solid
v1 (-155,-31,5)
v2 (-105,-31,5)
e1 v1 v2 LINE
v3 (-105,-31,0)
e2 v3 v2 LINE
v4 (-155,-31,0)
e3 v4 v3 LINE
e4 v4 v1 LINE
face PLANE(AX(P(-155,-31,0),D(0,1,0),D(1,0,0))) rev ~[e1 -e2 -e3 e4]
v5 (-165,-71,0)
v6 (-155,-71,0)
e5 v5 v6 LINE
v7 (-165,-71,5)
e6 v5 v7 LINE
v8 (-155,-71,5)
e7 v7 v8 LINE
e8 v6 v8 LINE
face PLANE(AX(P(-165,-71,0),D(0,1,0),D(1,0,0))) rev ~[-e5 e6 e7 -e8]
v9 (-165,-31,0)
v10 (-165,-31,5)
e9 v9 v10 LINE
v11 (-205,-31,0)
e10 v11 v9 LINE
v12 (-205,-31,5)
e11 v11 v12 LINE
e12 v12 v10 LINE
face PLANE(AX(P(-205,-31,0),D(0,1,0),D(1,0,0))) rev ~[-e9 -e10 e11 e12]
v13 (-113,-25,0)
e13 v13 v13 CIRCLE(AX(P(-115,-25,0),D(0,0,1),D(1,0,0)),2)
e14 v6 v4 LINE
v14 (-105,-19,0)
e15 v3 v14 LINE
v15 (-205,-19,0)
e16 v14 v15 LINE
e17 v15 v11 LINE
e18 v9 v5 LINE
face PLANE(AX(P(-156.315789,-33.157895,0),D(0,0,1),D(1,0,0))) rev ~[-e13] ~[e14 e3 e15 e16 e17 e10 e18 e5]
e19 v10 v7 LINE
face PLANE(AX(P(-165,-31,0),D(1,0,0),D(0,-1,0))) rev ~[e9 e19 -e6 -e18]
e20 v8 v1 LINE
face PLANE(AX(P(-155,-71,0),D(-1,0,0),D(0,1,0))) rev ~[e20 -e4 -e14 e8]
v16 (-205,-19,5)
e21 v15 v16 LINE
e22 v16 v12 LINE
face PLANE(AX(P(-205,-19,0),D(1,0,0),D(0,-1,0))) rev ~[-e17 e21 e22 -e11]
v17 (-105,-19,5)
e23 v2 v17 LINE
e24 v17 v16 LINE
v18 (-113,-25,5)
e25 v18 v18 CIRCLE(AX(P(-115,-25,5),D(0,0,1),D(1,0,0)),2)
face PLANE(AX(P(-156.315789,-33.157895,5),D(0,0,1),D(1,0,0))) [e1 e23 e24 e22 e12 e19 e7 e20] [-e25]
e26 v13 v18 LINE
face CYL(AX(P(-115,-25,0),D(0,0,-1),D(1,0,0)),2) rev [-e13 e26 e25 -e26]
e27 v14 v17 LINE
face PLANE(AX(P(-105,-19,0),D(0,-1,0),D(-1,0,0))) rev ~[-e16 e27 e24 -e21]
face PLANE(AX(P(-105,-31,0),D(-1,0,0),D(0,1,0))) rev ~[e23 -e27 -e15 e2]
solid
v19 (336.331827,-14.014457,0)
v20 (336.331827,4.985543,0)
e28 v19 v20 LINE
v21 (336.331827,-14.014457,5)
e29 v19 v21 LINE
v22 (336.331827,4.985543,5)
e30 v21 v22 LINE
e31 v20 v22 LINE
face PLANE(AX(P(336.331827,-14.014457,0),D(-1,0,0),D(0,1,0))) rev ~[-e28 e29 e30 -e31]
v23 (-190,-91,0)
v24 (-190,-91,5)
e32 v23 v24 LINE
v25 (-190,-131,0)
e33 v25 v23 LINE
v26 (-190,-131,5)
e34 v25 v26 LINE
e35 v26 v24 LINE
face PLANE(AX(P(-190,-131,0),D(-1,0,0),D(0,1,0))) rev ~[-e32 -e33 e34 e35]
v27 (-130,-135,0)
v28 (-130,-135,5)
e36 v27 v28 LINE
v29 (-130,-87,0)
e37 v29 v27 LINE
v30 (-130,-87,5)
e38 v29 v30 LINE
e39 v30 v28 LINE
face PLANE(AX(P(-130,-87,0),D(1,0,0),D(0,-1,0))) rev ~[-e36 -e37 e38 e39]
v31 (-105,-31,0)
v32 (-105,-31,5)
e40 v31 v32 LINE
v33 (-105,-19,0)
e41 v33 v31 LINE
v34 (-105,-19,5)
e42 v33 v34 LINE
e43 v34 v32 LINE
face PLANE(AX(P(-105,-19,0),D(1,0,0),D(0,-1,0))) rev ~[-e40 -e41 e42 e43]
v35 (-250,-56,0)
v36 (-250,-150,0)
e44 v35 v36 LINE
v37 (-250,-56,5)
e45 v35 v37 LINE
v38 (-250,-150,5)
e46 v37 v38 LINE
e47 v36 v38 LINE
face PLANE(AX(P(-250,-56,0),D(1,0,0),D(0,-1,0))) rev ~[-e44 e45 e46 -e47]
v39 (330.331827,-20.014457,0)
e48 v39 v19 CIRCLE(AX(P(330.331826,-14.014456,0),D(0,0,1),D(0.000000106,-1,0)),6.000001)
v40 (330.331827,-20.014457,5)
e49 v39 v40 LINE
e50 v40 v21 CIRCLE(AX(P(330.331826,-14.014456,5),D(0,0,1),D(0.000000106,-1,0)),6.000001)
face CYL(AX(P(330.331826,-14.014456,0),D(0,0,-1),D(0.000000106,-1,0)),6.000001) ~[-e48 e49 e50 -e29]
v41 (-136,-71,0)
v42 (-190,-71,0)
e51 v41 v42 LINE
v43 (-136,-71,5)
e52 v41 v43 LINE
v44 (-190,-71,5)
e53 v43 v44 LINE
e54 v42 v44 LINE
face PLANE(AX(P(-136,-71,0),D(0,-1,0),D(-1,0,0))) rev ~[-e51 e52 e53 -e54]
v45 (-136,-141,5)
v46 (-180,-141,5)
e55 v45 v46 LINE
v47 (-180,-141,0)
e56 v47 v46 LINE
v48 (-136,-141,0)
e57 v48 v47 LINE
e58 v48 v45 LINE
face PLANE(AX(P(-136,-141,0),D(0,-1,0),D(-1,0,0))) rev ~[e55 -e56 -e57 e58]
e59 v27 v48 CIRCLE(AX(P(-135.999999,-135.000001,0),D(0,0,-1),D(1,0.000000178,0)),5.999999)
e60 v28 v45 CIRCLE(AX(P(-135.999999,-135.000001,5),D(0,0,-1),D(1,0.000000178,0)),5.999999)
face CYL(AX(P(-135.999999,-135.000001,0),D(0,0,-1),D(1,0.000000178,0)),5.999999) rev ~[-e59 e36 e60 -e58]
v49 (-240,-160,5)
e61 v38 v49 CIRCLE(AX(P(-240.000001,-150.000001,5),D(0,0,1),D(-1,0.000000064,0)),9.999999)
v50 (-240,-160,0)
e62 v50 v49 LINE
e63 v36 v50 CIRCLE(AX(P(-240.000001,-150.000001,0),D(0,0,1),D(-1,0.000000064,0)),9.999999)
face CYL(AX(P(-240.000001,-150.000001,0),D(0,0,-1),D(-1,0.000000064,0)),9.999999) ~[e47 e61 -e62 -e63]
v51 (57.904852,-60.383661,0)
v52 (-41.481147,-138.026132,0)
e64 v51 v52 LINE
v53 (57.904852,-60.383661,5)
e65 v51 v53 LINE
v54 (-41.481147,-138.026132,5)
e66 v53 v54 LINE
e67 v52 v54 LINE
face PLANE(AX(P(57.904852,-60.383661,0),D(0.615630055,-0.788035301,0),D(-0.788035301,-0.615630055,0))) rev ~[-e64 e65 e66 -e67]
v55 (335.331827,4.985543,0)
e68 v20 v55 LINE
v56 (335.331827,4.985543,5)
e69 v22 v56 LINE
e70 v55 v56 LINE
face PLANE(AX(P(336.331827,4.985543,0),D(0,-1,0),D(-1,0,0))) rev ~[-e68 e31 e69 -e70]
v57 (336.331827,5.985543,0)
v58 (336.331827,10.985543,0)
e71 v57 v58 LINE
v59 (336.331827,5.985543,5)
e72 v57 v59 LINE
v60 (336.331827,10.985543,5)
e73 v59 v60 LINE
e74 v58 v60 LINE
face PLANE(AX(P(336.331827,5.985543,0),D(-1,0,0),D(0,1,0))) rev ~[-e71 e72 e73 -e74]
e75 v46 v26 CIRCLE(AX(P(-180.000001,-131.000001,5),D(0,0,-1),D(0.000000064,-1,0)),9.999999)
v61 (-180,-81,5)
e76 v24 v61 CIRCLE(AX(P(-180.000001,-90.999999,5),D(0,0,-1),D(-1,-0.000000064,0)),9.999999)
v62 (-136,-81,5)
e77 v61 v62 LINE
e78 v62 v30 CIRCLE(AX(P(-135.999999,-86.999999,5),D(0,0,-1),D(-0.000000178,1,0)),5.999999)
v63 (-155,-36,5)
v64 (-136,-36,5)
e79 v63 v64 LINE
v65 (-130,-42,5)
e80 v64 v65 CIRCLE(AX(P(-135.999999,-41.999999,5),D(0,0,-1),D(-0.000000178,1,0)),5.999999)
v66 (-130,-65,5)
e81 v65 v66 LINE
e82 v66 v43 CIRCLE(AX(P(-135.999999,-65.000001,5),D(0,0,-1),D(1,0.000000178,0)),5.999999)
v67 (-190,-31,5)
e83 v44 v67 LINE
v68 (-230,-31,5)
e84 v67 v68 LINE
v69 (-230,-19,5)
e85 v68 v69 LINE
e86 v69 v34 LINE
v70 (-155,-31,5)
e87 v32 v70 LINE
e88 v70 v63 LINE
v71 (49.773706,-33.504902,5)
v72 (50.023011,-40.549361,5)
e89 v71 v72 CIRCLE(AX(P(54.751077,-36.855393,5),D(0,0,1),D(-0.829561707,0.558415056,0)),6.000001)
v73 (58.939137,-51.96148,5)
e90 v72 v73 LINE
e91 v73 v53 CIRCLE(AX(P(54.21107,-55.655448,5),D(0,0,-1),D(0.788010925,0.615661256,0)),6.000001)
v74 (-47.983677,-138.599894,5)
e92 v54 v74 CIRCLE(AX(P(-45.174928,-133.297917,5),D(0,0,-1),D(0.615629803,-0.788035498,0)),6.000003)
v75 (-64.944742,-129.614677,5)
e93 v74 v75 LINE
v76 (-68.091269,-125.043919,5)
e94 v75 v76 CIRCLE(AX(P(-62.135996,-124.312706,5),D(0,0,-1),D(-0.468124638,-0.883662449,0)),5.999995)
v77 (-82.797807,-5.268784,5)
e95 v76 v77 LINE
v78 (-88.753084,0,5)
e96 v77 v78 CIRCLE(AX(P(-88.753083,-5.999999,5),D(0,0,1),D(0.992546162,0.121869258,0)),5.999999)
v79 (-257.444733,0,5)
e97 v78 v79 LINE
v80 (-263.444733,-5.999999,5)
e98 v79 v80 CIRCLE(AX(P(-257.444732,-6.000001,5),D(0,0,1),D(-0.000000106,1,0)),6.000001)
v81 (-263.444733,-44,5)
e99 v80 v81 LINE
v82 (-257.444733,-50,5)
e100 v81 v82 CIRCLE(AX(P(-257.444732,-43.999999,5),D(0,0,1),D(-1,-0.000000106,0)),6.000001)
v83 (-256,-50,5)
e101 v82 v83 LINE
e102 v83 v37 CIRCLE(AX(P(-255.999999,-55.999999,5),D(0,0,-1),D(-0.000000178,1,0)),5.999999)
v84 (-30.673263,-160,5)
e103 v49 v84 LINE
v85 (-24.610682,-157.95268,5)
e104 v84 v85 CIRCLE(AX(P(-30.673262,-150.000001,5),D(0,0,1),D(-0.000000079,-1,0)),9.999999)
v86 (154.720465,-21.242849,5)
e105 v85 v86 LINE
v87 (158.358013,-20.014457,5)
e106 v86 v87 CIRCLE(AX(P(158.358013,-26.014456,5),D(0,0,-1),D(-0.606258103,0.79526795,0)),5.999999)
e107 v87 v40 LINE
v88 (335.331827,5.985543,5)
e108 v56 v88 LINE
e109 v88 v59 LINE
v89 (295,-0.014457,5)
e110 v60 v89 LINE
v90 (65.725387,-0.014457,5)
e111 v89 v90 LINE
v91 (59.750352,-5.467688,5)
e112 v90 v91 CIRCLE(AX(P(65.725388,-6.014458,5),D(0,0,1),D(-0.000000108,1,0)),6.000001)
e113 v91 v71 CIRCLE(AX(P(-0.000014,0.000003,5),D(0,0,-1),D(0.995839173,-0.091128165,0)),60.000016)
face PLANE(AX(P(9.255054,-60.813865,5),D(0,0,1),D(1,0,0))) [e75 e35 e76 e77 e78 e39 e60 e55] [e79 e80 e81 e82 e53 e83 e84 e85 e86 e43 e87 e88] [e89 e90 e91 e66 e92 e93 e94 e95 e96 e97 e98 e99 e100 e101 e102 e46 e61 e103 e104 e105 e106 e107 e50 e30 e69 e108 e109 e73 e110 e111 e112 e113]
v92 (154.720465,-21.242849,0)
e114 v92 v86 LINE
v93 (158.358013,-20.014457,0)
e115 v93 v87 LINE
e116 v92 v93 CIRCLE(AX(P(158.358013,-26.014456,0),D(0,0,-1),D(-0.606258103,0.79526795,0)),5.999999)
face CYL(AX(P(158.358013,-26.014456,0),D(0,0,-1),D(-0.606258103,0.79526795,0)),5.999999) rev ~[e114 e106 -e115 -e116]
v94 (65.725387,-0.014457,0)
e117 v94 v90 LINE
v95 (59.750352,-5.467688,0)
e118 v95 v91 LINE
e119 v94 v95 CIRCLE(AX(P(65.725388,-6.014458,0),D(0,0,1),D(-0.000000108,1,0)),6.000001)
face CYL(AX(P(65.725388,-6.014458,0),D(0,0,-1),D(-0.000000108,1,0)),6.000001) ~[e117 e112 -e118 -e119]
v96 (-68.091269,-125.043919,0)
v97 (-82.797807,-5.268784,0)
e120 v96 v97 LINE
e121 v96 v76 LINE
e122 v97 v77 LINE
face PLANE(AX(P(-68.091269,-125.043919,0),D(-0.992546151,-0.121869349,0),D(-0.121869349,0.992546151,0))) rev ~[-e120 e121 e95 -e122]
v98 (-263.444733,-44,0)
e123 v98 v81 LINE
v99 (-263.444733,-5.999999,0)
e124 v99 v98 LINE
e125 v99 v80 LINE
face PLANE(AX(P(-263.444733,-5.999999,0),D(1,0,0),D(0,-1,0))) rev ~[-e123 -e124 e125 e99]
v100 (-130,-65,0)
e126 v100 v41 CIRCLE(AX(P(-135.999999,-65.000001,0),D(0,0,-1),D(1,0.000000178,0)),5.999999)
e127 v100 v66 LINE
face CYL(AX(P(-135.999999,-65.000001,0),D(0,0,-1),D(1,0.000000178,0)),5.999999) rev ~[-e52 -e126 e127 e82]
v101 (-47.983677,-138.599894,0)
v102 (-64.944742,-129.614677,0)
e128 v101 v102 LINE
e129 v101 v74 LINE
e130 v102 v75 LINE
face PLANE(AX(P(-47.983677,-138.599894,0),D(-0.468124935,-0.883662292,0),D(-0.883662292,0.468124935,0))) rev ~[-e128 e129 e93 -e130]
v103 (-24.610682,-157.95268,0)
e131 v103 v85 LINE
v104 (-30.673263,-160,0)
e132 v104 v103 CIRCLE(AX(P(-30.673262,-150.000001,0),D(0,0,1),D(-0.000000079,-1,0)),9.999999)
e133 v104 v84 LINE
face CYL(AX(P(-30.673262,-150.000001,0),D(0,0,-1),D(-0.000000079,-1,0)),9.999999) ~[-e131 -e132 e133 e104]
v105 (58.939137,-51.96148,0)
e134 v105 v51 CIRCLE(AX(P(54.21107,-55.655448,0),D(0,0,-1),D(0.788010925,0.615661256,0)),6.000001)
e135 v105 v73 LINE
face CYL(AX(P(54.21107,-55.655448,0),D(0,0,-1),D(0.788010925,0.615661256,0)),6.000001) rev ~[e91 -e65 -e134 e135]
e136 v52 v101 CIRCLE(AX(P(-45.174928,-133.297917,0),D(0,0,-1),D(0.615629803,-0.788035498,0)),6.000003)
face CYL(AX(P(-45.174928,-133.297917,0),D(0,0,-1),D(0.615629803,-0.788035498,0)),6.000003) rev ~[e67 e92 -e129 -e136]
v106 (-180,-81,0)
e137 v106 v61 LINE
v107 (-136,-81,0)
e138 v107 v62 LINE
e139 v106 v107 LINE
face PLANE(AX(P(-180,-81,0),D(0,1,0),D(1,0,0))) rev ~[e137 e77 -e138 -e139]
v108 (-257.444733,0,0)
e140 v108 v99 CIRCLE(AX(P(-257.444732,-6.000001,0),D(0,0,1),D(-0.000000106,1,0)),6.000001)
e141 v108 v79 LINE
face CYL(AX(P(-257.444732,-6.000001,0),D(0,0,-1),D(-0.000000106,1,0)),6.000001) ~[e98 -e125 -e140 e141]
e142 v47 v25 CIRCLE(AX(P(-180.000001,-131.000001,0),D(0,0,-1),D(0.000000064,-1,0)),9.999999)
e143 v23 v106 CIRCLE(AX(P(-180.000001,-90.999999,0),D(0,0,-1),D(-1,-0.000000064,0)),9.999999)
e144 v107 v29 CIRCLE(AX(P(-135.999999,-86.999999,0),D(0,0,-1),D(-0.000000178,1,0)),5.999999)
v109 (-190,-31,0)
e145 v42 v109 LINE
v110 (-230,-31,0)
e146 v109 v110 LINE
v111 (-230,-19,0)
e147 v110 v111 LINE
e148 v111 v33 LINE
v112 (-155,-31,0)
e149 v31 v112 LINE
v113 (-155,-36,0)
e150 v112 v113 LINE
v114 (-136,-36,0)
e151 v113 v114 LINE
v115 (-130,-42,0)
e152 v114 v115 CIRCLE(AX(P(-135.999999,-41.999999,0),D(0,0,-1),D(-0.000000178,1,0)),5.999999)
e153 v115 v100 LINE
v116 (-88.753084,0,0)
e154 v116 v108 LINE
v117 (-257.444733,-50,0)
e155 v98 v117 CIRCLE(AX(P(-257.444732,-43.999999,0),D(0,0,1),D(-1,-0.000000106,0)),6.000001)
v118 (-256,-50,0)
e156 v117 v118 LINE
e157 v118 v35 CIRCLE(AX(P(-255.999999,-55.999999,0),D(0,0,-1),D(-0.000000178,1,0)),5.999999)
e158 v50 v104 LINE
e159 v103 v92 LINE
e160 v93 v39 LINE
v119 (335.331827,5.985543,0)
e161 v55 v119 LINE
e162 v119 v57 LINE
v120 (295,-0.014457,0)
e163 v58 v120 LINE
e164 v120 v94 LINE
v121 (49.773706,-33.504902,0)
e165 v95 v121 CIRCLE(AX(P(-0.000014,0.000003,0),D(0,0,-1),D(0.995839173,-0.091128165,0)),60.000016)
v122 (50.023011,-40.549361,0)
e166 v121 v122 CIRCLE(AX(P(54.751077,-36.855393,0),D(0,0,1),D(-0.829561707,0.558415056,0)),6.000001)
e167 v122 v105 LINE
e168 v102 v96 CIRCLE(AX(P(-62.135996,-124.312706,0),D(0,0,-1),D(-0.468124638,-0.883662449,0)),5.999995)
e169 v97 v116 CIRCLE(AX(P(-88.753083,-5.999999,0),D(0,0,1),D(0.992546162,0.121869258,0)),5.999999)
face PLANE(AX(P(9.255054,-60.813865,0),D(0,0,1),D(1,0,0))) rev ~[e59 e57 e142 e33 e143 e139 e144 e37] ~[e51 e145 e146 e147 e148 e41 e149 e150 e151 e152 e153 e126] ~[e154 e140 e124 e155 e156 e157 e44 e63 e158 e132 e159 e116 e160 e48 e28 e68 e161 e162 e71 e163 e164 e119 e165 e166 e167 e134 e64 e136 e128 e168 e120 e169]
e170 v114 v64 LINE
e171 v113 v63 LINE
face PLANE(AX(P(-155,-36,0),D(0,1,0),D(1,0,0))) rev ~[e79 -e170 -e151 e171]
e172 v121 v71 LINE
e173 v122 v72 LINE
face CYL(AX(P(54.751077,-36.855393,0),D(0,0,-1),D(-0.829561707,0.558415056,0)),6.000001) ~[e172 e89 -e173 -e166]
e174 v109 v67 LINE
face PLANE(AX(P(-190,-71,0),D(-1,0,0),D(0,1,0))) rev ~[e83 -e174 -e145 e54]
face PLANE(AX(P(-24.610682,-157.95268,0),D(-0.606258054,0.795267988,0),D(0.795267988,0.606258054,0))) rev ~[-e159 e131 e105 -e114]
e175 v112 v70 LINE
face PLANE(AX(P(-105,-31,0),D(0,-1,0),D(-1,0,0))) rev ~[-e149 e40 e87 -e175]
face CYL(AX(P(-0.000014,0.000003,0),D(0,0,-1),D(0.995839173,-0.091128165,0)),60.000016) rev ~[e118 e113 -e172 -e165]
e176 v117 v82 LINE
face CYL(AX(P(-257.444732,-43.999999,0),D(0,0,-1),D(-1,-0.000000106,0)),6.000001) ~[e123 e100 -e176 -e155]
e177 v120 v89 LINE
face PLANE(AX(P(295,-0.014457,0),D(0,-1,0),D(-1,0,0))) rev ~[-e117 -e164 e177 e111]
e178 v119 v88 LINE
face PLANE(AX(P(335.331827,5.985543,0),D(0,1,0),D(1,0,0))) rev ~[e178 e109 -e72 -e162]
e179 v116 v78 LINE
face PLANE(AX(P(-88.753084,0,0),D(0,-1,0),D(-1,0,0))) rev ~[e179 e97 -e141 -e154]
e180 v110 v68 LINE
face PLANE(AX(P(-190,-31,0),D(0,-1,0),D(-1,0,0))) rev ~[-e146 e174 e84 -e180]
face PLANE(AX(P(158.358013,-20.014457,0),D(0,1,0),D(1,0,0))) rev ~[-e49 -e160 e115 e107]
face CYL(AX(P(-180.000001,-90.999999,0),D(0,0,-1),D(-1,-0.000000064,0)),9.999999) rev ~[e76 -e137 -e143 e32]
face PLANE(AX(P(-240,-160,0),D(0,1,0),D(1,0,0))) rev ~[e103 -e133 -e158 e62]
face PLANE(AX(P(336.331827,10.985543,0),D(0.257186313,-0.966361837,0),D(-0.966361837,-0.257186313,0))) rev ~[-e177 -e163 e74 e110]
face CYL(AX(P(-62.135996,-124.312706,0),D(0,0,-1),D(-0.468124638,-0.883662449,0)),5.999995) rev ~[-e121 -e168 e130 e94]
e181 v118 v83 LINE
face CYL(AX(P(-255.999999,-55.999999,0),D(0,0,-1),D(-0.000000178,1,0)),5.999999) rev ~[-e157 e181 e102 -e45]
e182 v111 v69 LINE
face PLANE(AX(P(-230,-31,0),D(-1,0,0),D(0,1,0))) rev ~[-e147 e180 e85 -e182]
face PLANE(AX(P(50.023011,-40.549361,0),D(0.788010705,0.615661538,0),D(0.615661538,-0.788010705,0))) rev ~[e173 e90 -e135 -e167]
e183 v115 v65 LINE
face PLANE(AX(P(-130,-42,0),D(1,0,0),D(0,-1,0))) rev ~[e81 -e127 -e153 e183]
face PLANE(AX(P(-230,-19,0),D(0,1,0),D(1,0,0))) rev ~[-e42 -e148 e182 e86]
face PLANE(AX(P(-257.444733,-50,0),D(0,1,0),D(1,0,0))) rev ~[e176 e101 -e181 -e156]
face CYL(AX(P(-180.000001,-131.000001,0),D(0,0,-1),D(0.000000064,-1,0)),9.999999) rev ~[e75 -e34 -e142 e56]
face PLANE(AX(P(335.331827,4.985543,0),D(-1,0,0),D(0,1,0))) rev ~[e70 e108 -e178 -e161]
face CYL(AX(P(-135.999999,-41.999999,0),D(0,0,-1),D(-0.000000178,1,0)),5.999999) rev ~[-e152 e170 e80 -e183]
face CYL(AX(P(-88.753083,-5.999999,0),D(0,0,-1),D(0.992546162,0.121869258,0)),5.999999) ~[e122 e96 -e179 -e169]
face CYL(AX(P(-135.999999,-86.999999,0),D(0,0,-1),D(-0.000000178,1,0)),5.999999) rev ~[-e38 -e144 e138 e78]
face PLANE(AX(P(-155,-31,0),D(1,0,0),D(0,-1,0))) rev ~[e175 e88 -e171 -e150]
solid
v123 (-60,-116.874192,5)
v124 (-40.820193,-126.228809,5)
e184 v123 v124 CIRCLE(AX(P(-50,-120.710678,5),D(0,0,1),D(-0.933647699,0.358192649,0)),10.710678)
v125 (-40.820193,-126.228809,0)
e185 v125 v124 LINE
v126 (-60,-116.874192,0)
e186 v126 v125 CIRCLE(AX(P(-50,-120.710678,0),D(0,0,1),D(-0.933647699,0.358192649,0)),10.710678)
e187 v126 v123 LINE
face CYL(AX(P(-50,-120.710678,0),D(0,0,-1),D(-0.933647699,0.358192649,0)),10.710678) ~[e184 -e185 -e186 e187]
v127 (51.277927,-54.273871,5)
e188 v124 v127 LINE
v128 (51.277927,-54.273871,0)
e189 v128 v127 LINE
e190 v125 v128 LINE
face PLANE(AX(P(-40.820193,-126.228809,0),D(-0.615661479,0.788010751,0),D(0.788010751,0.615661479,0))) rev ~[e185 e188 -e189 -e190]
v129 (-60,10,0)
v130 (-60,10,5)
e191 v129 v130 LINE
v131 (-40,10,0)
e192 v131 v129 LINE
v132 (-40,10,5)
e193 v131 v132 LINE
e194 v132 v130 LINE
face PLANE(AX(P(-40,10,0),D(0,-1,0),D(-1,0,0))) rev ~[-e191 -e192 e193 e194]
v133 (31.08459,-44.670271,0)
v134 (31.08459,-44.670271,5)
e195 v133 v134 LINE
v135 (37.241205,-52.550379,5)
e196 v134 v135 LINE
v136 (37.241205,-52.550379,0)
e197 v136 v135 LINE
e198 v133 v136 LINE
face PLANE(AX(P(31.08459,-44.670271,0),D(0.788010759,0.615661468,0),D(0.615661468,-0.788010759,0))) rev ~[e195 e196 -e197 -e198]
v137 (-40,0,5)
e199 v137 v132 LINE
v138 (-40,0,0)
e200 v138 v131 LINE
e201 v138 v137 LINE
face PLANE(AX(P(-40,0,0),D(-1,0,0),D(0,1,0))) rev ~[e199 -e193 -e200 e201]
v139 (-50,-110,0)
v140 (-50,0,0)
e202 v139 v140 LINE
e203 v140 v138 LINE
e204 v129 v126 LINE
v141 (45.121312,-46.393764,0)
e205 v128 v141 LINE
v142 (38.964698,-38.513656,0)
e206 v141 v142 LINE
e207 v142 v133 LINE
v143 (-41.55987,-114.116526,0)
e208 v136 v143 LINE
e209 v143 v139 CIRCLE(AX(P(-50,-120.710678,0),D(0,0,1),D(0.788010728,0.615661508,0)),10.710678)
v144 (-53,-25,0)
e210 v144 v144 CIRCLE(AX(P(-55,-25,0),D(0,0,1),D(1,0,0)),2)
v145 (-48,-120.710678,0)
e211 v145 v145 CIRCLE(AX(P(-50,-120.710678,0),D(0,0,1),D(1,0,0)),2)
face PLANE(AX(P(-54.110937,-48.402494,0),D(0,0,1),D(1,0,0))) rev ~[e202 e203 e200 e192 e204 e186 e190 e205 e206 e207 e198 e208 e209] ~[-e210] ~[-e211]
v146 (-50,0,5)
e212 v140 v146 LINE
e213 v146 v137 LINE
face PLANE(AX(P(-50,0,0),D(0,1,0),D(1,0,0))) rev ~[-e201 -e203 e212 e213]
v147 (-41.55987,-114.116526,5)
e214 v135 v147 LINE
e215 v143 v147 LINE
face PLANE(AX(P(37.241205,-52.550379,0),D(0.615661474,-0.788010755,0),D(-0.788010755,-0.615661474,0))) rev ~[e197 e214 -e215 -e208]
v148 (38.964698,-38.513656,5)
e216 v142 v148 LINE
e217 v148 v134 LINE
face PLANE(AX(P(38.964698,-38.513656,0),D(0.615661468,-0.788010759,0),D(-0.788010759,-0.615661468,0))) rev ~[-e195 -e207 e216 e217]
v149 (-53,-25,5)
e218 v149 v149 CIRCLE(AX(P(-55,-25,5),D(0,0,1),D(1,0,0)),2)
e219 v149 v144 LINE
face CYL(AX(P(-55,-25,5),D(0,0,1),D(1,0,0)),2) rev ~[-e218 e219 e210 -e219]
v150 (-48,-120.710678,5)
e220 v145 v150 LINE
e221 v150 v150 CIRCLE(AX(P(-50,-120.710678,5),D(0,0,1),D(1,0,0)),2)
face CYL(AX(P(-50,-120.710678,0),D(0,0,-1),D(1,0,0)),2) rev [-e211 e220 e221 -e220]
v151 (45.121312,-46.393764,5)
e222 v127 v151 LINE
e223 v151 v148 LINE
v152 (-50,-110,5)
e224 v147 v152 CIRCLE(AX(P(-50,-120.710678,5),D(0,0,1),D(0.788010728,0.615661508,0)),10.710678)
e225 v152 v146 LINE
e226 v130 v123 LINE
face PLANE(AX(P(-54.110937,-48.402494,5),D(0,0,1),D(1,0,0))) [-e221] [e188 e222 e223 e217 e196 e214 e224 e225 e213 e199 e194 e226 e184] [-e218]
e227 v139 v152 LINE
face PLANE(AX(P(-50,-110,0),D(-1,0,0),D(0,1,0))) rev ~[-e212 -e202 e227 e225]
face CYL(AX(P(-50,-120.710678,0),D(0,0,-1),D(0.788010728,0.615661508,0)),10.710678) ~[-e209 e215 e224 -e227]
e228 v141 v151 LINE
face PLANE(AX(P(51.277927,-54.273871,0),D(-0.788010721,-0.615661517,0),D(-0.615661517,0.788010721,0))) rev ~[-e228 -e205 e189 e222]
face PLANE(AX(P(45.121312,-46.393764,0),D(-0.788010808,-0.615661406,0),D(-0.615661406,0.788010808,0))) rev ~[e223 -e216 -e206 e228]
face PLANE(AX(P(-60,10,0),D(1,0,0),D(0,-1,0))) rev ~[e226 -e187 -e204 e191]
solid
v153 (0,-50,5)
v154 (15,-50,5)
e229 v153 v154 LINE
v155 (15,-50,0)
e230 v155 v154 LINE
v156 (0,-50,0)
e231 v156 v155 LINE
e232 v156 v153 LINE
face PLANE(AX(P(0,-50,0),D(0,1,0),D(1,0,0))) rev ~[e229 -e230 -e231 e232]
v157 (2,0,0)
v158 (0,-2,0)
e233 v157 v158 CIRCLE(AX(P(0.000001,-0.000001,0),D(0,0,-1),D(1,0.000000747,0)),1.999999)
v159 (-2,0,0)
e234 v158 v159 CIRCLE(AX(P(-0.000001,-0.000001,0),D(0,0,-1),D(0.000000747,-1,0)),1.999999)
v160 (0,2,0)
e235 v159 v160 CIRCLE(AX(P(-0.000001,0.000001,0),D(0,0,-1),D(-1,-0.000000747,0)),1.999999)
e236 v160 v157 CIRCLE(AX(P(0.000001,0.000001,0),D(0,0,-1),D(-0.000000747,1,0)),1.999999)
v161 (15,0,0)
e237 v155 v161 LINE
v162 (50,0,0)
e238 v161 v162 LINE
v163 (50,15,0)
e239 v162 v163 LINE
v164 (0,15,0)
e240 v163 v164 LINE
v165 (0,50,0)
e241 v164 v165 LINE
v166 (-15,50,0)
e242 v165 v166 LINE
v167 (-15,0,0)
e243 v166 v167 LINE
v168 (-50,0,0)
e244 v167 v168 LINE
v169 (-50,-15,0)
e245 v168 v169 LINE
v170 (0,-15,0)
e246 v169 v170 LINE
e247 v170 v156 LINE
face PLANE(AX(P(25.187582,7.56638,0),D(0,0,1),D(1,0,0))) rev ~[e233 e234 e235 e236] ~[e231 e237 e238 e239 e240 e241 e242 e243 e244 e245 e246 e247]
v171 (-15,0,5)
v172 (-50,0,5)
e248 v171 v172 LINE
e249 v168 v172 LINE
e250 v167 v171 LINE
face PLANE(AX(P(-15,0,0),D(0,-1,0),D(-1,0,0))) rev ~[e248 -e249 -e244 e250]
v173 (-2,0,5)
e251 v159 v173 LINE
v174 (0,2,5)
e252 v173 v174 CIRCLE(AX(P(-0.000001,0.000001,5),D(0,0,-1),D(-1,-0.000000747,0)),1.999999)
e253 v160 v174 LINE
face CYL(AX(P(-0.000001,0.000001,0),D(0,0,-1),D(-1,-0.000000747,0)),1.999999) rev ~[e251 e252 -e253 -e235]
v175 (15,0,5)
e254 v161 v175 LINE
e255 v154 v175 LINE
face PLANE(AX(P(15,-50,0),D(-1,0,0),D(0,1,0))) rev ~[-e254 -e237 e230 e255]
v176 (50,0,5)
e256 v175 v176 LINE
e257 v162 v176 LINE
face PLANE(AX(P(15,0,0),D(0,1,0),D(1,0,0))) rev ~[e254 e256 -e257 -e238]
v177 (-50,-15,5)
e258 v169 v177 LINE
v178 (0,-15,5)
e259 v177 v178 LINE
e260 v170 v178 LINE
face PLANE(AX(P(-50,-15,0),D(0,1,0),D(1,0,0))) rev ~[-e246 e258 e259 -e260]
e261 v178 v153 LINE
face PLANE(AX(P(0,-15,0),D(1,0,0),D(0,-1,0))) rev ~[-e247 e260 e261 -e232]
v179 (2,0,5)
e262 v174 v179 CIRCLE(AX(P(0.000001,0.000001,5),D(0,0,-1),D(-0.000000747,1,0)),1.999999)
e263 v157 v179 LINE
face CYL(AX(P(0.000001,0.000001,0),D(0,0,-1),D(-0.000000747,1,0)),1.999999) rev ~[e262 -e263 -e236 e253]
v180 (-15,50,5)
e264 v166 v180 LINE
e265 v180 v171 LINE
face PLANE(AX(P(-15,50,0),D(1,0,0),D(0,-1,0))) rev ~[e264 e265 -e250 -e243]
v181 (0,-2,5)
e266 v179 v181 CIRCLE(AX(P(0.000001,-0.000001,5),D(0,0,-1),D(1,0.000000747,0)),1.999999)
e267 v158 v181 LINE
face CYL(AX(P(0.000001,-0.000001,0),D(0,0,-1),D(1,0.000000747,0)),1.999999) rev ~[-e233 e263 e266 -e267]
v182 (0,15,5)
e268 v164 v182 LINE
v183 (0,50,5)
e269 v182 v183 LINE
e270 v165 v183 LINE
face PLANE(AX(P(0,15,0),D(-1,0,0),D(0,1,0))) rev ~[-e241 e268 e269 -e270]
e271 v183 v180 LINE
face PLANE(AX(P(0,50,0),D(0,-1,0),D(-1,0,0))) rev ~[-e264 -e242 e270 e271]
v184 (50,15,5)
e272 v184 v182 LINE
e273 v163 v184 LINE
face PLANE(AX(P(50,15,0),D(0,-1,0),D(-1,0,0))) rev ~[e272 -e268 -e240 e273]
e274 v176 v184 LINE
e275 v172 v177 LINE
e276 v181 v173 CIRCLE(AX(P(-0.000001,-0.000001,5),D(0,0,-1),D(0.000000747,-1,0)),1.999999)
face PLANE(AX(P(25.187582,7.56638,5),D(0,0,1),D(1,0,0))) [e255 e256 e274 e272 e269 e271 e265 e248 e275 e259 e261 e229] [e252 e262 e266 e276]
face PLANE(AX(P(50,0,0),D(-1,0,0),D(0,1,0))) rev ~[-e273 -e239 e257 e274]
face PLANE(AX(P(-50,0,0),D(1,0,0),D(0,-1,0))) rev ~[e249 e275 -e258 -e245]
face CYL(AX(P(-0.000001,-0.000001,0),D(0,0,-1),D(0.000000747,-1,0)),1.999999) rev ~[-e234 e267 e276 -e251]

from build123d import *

# Parameters (mm, degrees)
F1_DEPTH = 5
F2_R     = 2
F3_DEPTH = 5
F4_R     = 2
F5_DEPTH = 5.001
F6_R     = 2
F7_DEPTH = 5
F9_DEPTH = 5


with BuildPart() as f1:
    # F0 (on Top) → F1 (new body)
    with BuildSketch(Plane.XY):
        with BuildLine():
            ThreePointArc((0, 2), (1.414214, 1.414214), (2, 0))
            Line((2, 0), (15, 0))
            Line((15, 0), (50, 0))
            Line((50, 0), (50, 15))
            Line((50, 15), (0, 15))
            Line((0, 15), (0, 2))
        make_face()
        with BuildLine():
            Line((15, 0), (2, 0))
            ThreePointArc((2, 0), (1.414214, -1.414214), (0, -2))
            Line((0, -2), (0, -15))
            Line((0, -15), (0, -50))
            Line((0, -50), (15, -50))
            Line((15, -50), (15, 0))
        make_face()
        with BuildLine():
            Line((0, -15), (0, -2))
            ThreePointArc((0, -2), (-1.414214, -1.414214), (-2, 0))
            Line((-2, 0), (-15, 0))
            Line((-15, 0), (-50, 0))
            Line((-50, 0), (-50, -15))
            Line((-50, -15), (0, -15))
        make_face()
        with BuildLine():
            Line((-15, 0), (-2, 0))
            ThreePointArc((-2, 0), (-1.414214, 1.414214), (0, 2))
            Line((0, 2), (0, 15))
            Line((0, 15), (0, 50))
            Line((0, 50), (-15, 50))
            Line((-15, 50), (-15, 0))
        make_face()
    extrude(amount=F1_DEPTH)


with BuildPart() as f3:
    # F2 (on Top) → F3 (new body)
    with BuildSketch(Plane.XY):
        with BuildLine():
            Line((-50, -110), (-50, 0))
            Line((-50, 0), (-40, 0))
            Line((-40, 0), (-40, 10))
            Line((-40, 10), (-60, 10))
            Line((-60, 10), (-60, -116.874192))
            ThreePointArc((-60, -116.874192), (-56.067424, -111.884297), (-50, -110))
        make_face()
        with BuildLine():
            ThreePointArc((-41.55987, -114.116526), (-45.304748, -111.083984), (-50, -110))
            ThreePointArc((-50, -110), (-56.067424, -111.884297), (-60, -116.874192))
            ThreePointArc((-60, -116.874192), (-54.695252, -130.337372), (-40.820193, -126.228809))
            ThreePointArc((-40.820193, -126.228809), (-39.679133, -123.573951), (-39.289322, -120.710678))
            ThreePointArc((-39.289322, -120.710678), (-39.872855, -117.223622), (-41.55987, -114.116526))
        make_face()
        with Locations((-50, -120.710678)):
            Circle(F2_R, mode=Mode.SUBTRACT)
        with BuildLine():
            Line((37.241205, -52.550379), (-41.55987, -114.116526))
            ThreePointArc((-41.55987, -114.116526), (-39.872855, -117.223622), (-39.289322, -120.710678))
            ThreePointArc((-39.289322, -120.710678), (-39.679133, -123.573951), (-40.820193, -126.228809))
            Line((-40.820193, -126.228809), (51.277927, -54.273871))
            Line((51.277927, -54.273871), (45.121312, -46.393764))
            Line((45.121312, -46.393764), (38.964698, -38.513656))
            Line((38.964698, -38.513656), (31.08459, -44.670271))
            Line((31.08459, -44.670271), (37.241205, -52.550379))
        make_face()
    extrude(amount=F3_DEPTH)

    # F4 (on face) → F5 (cut, through all)
    with BuildSketch(Plane.XY.offset(5)):
        with Locations((-55, -25)):
            Circle(F4_R)
    extrude(amount=-F5_DEPTH, mode=Mode.SUBTRACT)


with BuildPart() as f7:
    # F6 (on Top) → F7 (new body)
    with BuildSketch(Plane.XY):
        Polygon((-155, -71), (-155, -31), (-105, -31), (-105, -19), (-205, -19), (-205, -31), (-165, -31), (-165, -71), align=None)
        with Locations((-115, -25)):
            Circle(F6_R, mode=Mode.SUBTRACT)
    extrude(amount=F7_DEPTH)


with BuildPart() as f9:
    # F8 (on Top) → F9 (new body)
    with BuildSketch(Plane.XY):
        with BuildLine():
            Line((336.331827, -14.014457), (336.331827, 4.985543))
            Line((336.331827, 4.985543), (335.331827, 4.985543))
            Line((335.331827, 4.985543), (335.331827, 5.985543))
            Line((335.331827, 5.985543), (336.331827, 5.985543))
            Line((336.331827, 5.985543), (336.331827, 10.985543))
            Line((336.331827, 10.985543), (295, -0.014457))
            Line((295, -0.014457), (65.725387, -0.014457))
            ThreePointArc((65.725387, -0.014457), (61.680675, -1.582719), (59.750352, -5.467688))
            ThreePointArc((59.750352, -5.467688), (56.527879, -20.114648), (49.773706, -33.504902))
            ThreePointArc((49.773706, -33.504902), (48.75483, -37.067601), (50.023011, -40.549361))
            Line((50.023011, -40.549361), (58.939137, -51.96148))
            ThreePointArc((58.939137, -51.96148), (60.166334, -56.386784), (57.904852, -60.383661))
            Line((57.904852, -60.383661), (-41.481147, -138.026132))
            ThreePointArc((-41.481147, -138.026132), (-44.647556, -139.274698), (-47.983677, -138.599894))
            Line((-47.983677, -138.599894), (-64.944742, -129.614677))
            ThreePointArc((-64.944742, -129.614677), (-67.078158, -127.714909), (-68.091269, -125.043919))
            Line((-68.091269, -125.043919), (-82.797807, -5.268784))
            ThreePointArc((-82.797807, -5.268784), (-84.777363, -1.506266), (-88.753084, 0))
            Line((-88.753084, 0), (-257.444733, 0))
            ThreePointArc((-257.444733, 0), (-261.687373, -1.757359), (-263.444733, -5.999999))
            Line((-263.444733, -5.999999), (-263.444733, -44))
            ThreePointArc((-263.444733, -44), (-261.687373, -48.242641), (-257.444733, -50))
            Line((-257.444733, -50), (-256, -50))
            ThreePointArc((-256, -50), (-251.757359, -51.757359), (-250, -56))
            Line((-250, -56), (-250, -150))
            ThreePointArc((-250, -150), (-247.071068, -157.071068), (-240, -160))
            Line((-240, -160), (-30.673263, -160))
            ThreePointArc((-30.673263, -160), (-27.473794, -159.474355), (-24.610682, -157.95268))
            Line((-24.610682, -157.95268), (154.720465, -21.242849))
            ThreePointArc((154.720465, -21.242849), (156.438332, -20.329844), (158.358013, -20.014457))
            Line((158.358013, -20.014457), (330.331827, -20.014457))
            ThreePointArc((330.331827, -20.014457), (334.574467, -18.257098), (336.331827, -14.014457))
        make_face()
        with BuildLine():
            Line((-180, -81), (-136, -81))
            ThreePointArc((-136, -81), (-131.757359, -82.757359), (-130, -87))
            Line((-130, -87), (-130, -135))
            ThreePointArc((-130, -135), (-131.757359, -139.242641), (-136, -141))
            Line((-136, -141), (-180, -141))
            ThreePointArc((-180, -141), (-187.071068, -138.071068), (-190, -131))
            Line((-190, -131), (-190, -91))
            ThreePointArc((-190, -91), (-187.071068, -83.928932), (-180, -81))
        make_face(mode=Mode.SUBTRACT)
        with BuildLine():
            Line((-230, -19), (-105, -19))
            Line((-105, -19), (-105, -31))
            Line((-105, -31), (-155, -31))
            Line((-155, -31), (-155, -36))
            Line((-155, -36), (-136, -36))
            ThreePointArc((-136, -36), (-131.757359, -37.757359), (-130, -42))
            Line((-130, -42), (-130, -65))
            ThreePointArc((-130, -65), (-131.757359, -69.242641), (-136, -71))
            Line((-136, -71), (-190, -71))
            Line((-190, -71), (-190, -31))
            Line((-190, -31), (-230, -31))
            Line((-230, -31), (-230, -19))
        make_face(mode=Mode.SUBTRACT)
    extrude(amount=F9_DEPTH)


solid = Compound([f1.part, f3.part, f7.part, f9.part])
